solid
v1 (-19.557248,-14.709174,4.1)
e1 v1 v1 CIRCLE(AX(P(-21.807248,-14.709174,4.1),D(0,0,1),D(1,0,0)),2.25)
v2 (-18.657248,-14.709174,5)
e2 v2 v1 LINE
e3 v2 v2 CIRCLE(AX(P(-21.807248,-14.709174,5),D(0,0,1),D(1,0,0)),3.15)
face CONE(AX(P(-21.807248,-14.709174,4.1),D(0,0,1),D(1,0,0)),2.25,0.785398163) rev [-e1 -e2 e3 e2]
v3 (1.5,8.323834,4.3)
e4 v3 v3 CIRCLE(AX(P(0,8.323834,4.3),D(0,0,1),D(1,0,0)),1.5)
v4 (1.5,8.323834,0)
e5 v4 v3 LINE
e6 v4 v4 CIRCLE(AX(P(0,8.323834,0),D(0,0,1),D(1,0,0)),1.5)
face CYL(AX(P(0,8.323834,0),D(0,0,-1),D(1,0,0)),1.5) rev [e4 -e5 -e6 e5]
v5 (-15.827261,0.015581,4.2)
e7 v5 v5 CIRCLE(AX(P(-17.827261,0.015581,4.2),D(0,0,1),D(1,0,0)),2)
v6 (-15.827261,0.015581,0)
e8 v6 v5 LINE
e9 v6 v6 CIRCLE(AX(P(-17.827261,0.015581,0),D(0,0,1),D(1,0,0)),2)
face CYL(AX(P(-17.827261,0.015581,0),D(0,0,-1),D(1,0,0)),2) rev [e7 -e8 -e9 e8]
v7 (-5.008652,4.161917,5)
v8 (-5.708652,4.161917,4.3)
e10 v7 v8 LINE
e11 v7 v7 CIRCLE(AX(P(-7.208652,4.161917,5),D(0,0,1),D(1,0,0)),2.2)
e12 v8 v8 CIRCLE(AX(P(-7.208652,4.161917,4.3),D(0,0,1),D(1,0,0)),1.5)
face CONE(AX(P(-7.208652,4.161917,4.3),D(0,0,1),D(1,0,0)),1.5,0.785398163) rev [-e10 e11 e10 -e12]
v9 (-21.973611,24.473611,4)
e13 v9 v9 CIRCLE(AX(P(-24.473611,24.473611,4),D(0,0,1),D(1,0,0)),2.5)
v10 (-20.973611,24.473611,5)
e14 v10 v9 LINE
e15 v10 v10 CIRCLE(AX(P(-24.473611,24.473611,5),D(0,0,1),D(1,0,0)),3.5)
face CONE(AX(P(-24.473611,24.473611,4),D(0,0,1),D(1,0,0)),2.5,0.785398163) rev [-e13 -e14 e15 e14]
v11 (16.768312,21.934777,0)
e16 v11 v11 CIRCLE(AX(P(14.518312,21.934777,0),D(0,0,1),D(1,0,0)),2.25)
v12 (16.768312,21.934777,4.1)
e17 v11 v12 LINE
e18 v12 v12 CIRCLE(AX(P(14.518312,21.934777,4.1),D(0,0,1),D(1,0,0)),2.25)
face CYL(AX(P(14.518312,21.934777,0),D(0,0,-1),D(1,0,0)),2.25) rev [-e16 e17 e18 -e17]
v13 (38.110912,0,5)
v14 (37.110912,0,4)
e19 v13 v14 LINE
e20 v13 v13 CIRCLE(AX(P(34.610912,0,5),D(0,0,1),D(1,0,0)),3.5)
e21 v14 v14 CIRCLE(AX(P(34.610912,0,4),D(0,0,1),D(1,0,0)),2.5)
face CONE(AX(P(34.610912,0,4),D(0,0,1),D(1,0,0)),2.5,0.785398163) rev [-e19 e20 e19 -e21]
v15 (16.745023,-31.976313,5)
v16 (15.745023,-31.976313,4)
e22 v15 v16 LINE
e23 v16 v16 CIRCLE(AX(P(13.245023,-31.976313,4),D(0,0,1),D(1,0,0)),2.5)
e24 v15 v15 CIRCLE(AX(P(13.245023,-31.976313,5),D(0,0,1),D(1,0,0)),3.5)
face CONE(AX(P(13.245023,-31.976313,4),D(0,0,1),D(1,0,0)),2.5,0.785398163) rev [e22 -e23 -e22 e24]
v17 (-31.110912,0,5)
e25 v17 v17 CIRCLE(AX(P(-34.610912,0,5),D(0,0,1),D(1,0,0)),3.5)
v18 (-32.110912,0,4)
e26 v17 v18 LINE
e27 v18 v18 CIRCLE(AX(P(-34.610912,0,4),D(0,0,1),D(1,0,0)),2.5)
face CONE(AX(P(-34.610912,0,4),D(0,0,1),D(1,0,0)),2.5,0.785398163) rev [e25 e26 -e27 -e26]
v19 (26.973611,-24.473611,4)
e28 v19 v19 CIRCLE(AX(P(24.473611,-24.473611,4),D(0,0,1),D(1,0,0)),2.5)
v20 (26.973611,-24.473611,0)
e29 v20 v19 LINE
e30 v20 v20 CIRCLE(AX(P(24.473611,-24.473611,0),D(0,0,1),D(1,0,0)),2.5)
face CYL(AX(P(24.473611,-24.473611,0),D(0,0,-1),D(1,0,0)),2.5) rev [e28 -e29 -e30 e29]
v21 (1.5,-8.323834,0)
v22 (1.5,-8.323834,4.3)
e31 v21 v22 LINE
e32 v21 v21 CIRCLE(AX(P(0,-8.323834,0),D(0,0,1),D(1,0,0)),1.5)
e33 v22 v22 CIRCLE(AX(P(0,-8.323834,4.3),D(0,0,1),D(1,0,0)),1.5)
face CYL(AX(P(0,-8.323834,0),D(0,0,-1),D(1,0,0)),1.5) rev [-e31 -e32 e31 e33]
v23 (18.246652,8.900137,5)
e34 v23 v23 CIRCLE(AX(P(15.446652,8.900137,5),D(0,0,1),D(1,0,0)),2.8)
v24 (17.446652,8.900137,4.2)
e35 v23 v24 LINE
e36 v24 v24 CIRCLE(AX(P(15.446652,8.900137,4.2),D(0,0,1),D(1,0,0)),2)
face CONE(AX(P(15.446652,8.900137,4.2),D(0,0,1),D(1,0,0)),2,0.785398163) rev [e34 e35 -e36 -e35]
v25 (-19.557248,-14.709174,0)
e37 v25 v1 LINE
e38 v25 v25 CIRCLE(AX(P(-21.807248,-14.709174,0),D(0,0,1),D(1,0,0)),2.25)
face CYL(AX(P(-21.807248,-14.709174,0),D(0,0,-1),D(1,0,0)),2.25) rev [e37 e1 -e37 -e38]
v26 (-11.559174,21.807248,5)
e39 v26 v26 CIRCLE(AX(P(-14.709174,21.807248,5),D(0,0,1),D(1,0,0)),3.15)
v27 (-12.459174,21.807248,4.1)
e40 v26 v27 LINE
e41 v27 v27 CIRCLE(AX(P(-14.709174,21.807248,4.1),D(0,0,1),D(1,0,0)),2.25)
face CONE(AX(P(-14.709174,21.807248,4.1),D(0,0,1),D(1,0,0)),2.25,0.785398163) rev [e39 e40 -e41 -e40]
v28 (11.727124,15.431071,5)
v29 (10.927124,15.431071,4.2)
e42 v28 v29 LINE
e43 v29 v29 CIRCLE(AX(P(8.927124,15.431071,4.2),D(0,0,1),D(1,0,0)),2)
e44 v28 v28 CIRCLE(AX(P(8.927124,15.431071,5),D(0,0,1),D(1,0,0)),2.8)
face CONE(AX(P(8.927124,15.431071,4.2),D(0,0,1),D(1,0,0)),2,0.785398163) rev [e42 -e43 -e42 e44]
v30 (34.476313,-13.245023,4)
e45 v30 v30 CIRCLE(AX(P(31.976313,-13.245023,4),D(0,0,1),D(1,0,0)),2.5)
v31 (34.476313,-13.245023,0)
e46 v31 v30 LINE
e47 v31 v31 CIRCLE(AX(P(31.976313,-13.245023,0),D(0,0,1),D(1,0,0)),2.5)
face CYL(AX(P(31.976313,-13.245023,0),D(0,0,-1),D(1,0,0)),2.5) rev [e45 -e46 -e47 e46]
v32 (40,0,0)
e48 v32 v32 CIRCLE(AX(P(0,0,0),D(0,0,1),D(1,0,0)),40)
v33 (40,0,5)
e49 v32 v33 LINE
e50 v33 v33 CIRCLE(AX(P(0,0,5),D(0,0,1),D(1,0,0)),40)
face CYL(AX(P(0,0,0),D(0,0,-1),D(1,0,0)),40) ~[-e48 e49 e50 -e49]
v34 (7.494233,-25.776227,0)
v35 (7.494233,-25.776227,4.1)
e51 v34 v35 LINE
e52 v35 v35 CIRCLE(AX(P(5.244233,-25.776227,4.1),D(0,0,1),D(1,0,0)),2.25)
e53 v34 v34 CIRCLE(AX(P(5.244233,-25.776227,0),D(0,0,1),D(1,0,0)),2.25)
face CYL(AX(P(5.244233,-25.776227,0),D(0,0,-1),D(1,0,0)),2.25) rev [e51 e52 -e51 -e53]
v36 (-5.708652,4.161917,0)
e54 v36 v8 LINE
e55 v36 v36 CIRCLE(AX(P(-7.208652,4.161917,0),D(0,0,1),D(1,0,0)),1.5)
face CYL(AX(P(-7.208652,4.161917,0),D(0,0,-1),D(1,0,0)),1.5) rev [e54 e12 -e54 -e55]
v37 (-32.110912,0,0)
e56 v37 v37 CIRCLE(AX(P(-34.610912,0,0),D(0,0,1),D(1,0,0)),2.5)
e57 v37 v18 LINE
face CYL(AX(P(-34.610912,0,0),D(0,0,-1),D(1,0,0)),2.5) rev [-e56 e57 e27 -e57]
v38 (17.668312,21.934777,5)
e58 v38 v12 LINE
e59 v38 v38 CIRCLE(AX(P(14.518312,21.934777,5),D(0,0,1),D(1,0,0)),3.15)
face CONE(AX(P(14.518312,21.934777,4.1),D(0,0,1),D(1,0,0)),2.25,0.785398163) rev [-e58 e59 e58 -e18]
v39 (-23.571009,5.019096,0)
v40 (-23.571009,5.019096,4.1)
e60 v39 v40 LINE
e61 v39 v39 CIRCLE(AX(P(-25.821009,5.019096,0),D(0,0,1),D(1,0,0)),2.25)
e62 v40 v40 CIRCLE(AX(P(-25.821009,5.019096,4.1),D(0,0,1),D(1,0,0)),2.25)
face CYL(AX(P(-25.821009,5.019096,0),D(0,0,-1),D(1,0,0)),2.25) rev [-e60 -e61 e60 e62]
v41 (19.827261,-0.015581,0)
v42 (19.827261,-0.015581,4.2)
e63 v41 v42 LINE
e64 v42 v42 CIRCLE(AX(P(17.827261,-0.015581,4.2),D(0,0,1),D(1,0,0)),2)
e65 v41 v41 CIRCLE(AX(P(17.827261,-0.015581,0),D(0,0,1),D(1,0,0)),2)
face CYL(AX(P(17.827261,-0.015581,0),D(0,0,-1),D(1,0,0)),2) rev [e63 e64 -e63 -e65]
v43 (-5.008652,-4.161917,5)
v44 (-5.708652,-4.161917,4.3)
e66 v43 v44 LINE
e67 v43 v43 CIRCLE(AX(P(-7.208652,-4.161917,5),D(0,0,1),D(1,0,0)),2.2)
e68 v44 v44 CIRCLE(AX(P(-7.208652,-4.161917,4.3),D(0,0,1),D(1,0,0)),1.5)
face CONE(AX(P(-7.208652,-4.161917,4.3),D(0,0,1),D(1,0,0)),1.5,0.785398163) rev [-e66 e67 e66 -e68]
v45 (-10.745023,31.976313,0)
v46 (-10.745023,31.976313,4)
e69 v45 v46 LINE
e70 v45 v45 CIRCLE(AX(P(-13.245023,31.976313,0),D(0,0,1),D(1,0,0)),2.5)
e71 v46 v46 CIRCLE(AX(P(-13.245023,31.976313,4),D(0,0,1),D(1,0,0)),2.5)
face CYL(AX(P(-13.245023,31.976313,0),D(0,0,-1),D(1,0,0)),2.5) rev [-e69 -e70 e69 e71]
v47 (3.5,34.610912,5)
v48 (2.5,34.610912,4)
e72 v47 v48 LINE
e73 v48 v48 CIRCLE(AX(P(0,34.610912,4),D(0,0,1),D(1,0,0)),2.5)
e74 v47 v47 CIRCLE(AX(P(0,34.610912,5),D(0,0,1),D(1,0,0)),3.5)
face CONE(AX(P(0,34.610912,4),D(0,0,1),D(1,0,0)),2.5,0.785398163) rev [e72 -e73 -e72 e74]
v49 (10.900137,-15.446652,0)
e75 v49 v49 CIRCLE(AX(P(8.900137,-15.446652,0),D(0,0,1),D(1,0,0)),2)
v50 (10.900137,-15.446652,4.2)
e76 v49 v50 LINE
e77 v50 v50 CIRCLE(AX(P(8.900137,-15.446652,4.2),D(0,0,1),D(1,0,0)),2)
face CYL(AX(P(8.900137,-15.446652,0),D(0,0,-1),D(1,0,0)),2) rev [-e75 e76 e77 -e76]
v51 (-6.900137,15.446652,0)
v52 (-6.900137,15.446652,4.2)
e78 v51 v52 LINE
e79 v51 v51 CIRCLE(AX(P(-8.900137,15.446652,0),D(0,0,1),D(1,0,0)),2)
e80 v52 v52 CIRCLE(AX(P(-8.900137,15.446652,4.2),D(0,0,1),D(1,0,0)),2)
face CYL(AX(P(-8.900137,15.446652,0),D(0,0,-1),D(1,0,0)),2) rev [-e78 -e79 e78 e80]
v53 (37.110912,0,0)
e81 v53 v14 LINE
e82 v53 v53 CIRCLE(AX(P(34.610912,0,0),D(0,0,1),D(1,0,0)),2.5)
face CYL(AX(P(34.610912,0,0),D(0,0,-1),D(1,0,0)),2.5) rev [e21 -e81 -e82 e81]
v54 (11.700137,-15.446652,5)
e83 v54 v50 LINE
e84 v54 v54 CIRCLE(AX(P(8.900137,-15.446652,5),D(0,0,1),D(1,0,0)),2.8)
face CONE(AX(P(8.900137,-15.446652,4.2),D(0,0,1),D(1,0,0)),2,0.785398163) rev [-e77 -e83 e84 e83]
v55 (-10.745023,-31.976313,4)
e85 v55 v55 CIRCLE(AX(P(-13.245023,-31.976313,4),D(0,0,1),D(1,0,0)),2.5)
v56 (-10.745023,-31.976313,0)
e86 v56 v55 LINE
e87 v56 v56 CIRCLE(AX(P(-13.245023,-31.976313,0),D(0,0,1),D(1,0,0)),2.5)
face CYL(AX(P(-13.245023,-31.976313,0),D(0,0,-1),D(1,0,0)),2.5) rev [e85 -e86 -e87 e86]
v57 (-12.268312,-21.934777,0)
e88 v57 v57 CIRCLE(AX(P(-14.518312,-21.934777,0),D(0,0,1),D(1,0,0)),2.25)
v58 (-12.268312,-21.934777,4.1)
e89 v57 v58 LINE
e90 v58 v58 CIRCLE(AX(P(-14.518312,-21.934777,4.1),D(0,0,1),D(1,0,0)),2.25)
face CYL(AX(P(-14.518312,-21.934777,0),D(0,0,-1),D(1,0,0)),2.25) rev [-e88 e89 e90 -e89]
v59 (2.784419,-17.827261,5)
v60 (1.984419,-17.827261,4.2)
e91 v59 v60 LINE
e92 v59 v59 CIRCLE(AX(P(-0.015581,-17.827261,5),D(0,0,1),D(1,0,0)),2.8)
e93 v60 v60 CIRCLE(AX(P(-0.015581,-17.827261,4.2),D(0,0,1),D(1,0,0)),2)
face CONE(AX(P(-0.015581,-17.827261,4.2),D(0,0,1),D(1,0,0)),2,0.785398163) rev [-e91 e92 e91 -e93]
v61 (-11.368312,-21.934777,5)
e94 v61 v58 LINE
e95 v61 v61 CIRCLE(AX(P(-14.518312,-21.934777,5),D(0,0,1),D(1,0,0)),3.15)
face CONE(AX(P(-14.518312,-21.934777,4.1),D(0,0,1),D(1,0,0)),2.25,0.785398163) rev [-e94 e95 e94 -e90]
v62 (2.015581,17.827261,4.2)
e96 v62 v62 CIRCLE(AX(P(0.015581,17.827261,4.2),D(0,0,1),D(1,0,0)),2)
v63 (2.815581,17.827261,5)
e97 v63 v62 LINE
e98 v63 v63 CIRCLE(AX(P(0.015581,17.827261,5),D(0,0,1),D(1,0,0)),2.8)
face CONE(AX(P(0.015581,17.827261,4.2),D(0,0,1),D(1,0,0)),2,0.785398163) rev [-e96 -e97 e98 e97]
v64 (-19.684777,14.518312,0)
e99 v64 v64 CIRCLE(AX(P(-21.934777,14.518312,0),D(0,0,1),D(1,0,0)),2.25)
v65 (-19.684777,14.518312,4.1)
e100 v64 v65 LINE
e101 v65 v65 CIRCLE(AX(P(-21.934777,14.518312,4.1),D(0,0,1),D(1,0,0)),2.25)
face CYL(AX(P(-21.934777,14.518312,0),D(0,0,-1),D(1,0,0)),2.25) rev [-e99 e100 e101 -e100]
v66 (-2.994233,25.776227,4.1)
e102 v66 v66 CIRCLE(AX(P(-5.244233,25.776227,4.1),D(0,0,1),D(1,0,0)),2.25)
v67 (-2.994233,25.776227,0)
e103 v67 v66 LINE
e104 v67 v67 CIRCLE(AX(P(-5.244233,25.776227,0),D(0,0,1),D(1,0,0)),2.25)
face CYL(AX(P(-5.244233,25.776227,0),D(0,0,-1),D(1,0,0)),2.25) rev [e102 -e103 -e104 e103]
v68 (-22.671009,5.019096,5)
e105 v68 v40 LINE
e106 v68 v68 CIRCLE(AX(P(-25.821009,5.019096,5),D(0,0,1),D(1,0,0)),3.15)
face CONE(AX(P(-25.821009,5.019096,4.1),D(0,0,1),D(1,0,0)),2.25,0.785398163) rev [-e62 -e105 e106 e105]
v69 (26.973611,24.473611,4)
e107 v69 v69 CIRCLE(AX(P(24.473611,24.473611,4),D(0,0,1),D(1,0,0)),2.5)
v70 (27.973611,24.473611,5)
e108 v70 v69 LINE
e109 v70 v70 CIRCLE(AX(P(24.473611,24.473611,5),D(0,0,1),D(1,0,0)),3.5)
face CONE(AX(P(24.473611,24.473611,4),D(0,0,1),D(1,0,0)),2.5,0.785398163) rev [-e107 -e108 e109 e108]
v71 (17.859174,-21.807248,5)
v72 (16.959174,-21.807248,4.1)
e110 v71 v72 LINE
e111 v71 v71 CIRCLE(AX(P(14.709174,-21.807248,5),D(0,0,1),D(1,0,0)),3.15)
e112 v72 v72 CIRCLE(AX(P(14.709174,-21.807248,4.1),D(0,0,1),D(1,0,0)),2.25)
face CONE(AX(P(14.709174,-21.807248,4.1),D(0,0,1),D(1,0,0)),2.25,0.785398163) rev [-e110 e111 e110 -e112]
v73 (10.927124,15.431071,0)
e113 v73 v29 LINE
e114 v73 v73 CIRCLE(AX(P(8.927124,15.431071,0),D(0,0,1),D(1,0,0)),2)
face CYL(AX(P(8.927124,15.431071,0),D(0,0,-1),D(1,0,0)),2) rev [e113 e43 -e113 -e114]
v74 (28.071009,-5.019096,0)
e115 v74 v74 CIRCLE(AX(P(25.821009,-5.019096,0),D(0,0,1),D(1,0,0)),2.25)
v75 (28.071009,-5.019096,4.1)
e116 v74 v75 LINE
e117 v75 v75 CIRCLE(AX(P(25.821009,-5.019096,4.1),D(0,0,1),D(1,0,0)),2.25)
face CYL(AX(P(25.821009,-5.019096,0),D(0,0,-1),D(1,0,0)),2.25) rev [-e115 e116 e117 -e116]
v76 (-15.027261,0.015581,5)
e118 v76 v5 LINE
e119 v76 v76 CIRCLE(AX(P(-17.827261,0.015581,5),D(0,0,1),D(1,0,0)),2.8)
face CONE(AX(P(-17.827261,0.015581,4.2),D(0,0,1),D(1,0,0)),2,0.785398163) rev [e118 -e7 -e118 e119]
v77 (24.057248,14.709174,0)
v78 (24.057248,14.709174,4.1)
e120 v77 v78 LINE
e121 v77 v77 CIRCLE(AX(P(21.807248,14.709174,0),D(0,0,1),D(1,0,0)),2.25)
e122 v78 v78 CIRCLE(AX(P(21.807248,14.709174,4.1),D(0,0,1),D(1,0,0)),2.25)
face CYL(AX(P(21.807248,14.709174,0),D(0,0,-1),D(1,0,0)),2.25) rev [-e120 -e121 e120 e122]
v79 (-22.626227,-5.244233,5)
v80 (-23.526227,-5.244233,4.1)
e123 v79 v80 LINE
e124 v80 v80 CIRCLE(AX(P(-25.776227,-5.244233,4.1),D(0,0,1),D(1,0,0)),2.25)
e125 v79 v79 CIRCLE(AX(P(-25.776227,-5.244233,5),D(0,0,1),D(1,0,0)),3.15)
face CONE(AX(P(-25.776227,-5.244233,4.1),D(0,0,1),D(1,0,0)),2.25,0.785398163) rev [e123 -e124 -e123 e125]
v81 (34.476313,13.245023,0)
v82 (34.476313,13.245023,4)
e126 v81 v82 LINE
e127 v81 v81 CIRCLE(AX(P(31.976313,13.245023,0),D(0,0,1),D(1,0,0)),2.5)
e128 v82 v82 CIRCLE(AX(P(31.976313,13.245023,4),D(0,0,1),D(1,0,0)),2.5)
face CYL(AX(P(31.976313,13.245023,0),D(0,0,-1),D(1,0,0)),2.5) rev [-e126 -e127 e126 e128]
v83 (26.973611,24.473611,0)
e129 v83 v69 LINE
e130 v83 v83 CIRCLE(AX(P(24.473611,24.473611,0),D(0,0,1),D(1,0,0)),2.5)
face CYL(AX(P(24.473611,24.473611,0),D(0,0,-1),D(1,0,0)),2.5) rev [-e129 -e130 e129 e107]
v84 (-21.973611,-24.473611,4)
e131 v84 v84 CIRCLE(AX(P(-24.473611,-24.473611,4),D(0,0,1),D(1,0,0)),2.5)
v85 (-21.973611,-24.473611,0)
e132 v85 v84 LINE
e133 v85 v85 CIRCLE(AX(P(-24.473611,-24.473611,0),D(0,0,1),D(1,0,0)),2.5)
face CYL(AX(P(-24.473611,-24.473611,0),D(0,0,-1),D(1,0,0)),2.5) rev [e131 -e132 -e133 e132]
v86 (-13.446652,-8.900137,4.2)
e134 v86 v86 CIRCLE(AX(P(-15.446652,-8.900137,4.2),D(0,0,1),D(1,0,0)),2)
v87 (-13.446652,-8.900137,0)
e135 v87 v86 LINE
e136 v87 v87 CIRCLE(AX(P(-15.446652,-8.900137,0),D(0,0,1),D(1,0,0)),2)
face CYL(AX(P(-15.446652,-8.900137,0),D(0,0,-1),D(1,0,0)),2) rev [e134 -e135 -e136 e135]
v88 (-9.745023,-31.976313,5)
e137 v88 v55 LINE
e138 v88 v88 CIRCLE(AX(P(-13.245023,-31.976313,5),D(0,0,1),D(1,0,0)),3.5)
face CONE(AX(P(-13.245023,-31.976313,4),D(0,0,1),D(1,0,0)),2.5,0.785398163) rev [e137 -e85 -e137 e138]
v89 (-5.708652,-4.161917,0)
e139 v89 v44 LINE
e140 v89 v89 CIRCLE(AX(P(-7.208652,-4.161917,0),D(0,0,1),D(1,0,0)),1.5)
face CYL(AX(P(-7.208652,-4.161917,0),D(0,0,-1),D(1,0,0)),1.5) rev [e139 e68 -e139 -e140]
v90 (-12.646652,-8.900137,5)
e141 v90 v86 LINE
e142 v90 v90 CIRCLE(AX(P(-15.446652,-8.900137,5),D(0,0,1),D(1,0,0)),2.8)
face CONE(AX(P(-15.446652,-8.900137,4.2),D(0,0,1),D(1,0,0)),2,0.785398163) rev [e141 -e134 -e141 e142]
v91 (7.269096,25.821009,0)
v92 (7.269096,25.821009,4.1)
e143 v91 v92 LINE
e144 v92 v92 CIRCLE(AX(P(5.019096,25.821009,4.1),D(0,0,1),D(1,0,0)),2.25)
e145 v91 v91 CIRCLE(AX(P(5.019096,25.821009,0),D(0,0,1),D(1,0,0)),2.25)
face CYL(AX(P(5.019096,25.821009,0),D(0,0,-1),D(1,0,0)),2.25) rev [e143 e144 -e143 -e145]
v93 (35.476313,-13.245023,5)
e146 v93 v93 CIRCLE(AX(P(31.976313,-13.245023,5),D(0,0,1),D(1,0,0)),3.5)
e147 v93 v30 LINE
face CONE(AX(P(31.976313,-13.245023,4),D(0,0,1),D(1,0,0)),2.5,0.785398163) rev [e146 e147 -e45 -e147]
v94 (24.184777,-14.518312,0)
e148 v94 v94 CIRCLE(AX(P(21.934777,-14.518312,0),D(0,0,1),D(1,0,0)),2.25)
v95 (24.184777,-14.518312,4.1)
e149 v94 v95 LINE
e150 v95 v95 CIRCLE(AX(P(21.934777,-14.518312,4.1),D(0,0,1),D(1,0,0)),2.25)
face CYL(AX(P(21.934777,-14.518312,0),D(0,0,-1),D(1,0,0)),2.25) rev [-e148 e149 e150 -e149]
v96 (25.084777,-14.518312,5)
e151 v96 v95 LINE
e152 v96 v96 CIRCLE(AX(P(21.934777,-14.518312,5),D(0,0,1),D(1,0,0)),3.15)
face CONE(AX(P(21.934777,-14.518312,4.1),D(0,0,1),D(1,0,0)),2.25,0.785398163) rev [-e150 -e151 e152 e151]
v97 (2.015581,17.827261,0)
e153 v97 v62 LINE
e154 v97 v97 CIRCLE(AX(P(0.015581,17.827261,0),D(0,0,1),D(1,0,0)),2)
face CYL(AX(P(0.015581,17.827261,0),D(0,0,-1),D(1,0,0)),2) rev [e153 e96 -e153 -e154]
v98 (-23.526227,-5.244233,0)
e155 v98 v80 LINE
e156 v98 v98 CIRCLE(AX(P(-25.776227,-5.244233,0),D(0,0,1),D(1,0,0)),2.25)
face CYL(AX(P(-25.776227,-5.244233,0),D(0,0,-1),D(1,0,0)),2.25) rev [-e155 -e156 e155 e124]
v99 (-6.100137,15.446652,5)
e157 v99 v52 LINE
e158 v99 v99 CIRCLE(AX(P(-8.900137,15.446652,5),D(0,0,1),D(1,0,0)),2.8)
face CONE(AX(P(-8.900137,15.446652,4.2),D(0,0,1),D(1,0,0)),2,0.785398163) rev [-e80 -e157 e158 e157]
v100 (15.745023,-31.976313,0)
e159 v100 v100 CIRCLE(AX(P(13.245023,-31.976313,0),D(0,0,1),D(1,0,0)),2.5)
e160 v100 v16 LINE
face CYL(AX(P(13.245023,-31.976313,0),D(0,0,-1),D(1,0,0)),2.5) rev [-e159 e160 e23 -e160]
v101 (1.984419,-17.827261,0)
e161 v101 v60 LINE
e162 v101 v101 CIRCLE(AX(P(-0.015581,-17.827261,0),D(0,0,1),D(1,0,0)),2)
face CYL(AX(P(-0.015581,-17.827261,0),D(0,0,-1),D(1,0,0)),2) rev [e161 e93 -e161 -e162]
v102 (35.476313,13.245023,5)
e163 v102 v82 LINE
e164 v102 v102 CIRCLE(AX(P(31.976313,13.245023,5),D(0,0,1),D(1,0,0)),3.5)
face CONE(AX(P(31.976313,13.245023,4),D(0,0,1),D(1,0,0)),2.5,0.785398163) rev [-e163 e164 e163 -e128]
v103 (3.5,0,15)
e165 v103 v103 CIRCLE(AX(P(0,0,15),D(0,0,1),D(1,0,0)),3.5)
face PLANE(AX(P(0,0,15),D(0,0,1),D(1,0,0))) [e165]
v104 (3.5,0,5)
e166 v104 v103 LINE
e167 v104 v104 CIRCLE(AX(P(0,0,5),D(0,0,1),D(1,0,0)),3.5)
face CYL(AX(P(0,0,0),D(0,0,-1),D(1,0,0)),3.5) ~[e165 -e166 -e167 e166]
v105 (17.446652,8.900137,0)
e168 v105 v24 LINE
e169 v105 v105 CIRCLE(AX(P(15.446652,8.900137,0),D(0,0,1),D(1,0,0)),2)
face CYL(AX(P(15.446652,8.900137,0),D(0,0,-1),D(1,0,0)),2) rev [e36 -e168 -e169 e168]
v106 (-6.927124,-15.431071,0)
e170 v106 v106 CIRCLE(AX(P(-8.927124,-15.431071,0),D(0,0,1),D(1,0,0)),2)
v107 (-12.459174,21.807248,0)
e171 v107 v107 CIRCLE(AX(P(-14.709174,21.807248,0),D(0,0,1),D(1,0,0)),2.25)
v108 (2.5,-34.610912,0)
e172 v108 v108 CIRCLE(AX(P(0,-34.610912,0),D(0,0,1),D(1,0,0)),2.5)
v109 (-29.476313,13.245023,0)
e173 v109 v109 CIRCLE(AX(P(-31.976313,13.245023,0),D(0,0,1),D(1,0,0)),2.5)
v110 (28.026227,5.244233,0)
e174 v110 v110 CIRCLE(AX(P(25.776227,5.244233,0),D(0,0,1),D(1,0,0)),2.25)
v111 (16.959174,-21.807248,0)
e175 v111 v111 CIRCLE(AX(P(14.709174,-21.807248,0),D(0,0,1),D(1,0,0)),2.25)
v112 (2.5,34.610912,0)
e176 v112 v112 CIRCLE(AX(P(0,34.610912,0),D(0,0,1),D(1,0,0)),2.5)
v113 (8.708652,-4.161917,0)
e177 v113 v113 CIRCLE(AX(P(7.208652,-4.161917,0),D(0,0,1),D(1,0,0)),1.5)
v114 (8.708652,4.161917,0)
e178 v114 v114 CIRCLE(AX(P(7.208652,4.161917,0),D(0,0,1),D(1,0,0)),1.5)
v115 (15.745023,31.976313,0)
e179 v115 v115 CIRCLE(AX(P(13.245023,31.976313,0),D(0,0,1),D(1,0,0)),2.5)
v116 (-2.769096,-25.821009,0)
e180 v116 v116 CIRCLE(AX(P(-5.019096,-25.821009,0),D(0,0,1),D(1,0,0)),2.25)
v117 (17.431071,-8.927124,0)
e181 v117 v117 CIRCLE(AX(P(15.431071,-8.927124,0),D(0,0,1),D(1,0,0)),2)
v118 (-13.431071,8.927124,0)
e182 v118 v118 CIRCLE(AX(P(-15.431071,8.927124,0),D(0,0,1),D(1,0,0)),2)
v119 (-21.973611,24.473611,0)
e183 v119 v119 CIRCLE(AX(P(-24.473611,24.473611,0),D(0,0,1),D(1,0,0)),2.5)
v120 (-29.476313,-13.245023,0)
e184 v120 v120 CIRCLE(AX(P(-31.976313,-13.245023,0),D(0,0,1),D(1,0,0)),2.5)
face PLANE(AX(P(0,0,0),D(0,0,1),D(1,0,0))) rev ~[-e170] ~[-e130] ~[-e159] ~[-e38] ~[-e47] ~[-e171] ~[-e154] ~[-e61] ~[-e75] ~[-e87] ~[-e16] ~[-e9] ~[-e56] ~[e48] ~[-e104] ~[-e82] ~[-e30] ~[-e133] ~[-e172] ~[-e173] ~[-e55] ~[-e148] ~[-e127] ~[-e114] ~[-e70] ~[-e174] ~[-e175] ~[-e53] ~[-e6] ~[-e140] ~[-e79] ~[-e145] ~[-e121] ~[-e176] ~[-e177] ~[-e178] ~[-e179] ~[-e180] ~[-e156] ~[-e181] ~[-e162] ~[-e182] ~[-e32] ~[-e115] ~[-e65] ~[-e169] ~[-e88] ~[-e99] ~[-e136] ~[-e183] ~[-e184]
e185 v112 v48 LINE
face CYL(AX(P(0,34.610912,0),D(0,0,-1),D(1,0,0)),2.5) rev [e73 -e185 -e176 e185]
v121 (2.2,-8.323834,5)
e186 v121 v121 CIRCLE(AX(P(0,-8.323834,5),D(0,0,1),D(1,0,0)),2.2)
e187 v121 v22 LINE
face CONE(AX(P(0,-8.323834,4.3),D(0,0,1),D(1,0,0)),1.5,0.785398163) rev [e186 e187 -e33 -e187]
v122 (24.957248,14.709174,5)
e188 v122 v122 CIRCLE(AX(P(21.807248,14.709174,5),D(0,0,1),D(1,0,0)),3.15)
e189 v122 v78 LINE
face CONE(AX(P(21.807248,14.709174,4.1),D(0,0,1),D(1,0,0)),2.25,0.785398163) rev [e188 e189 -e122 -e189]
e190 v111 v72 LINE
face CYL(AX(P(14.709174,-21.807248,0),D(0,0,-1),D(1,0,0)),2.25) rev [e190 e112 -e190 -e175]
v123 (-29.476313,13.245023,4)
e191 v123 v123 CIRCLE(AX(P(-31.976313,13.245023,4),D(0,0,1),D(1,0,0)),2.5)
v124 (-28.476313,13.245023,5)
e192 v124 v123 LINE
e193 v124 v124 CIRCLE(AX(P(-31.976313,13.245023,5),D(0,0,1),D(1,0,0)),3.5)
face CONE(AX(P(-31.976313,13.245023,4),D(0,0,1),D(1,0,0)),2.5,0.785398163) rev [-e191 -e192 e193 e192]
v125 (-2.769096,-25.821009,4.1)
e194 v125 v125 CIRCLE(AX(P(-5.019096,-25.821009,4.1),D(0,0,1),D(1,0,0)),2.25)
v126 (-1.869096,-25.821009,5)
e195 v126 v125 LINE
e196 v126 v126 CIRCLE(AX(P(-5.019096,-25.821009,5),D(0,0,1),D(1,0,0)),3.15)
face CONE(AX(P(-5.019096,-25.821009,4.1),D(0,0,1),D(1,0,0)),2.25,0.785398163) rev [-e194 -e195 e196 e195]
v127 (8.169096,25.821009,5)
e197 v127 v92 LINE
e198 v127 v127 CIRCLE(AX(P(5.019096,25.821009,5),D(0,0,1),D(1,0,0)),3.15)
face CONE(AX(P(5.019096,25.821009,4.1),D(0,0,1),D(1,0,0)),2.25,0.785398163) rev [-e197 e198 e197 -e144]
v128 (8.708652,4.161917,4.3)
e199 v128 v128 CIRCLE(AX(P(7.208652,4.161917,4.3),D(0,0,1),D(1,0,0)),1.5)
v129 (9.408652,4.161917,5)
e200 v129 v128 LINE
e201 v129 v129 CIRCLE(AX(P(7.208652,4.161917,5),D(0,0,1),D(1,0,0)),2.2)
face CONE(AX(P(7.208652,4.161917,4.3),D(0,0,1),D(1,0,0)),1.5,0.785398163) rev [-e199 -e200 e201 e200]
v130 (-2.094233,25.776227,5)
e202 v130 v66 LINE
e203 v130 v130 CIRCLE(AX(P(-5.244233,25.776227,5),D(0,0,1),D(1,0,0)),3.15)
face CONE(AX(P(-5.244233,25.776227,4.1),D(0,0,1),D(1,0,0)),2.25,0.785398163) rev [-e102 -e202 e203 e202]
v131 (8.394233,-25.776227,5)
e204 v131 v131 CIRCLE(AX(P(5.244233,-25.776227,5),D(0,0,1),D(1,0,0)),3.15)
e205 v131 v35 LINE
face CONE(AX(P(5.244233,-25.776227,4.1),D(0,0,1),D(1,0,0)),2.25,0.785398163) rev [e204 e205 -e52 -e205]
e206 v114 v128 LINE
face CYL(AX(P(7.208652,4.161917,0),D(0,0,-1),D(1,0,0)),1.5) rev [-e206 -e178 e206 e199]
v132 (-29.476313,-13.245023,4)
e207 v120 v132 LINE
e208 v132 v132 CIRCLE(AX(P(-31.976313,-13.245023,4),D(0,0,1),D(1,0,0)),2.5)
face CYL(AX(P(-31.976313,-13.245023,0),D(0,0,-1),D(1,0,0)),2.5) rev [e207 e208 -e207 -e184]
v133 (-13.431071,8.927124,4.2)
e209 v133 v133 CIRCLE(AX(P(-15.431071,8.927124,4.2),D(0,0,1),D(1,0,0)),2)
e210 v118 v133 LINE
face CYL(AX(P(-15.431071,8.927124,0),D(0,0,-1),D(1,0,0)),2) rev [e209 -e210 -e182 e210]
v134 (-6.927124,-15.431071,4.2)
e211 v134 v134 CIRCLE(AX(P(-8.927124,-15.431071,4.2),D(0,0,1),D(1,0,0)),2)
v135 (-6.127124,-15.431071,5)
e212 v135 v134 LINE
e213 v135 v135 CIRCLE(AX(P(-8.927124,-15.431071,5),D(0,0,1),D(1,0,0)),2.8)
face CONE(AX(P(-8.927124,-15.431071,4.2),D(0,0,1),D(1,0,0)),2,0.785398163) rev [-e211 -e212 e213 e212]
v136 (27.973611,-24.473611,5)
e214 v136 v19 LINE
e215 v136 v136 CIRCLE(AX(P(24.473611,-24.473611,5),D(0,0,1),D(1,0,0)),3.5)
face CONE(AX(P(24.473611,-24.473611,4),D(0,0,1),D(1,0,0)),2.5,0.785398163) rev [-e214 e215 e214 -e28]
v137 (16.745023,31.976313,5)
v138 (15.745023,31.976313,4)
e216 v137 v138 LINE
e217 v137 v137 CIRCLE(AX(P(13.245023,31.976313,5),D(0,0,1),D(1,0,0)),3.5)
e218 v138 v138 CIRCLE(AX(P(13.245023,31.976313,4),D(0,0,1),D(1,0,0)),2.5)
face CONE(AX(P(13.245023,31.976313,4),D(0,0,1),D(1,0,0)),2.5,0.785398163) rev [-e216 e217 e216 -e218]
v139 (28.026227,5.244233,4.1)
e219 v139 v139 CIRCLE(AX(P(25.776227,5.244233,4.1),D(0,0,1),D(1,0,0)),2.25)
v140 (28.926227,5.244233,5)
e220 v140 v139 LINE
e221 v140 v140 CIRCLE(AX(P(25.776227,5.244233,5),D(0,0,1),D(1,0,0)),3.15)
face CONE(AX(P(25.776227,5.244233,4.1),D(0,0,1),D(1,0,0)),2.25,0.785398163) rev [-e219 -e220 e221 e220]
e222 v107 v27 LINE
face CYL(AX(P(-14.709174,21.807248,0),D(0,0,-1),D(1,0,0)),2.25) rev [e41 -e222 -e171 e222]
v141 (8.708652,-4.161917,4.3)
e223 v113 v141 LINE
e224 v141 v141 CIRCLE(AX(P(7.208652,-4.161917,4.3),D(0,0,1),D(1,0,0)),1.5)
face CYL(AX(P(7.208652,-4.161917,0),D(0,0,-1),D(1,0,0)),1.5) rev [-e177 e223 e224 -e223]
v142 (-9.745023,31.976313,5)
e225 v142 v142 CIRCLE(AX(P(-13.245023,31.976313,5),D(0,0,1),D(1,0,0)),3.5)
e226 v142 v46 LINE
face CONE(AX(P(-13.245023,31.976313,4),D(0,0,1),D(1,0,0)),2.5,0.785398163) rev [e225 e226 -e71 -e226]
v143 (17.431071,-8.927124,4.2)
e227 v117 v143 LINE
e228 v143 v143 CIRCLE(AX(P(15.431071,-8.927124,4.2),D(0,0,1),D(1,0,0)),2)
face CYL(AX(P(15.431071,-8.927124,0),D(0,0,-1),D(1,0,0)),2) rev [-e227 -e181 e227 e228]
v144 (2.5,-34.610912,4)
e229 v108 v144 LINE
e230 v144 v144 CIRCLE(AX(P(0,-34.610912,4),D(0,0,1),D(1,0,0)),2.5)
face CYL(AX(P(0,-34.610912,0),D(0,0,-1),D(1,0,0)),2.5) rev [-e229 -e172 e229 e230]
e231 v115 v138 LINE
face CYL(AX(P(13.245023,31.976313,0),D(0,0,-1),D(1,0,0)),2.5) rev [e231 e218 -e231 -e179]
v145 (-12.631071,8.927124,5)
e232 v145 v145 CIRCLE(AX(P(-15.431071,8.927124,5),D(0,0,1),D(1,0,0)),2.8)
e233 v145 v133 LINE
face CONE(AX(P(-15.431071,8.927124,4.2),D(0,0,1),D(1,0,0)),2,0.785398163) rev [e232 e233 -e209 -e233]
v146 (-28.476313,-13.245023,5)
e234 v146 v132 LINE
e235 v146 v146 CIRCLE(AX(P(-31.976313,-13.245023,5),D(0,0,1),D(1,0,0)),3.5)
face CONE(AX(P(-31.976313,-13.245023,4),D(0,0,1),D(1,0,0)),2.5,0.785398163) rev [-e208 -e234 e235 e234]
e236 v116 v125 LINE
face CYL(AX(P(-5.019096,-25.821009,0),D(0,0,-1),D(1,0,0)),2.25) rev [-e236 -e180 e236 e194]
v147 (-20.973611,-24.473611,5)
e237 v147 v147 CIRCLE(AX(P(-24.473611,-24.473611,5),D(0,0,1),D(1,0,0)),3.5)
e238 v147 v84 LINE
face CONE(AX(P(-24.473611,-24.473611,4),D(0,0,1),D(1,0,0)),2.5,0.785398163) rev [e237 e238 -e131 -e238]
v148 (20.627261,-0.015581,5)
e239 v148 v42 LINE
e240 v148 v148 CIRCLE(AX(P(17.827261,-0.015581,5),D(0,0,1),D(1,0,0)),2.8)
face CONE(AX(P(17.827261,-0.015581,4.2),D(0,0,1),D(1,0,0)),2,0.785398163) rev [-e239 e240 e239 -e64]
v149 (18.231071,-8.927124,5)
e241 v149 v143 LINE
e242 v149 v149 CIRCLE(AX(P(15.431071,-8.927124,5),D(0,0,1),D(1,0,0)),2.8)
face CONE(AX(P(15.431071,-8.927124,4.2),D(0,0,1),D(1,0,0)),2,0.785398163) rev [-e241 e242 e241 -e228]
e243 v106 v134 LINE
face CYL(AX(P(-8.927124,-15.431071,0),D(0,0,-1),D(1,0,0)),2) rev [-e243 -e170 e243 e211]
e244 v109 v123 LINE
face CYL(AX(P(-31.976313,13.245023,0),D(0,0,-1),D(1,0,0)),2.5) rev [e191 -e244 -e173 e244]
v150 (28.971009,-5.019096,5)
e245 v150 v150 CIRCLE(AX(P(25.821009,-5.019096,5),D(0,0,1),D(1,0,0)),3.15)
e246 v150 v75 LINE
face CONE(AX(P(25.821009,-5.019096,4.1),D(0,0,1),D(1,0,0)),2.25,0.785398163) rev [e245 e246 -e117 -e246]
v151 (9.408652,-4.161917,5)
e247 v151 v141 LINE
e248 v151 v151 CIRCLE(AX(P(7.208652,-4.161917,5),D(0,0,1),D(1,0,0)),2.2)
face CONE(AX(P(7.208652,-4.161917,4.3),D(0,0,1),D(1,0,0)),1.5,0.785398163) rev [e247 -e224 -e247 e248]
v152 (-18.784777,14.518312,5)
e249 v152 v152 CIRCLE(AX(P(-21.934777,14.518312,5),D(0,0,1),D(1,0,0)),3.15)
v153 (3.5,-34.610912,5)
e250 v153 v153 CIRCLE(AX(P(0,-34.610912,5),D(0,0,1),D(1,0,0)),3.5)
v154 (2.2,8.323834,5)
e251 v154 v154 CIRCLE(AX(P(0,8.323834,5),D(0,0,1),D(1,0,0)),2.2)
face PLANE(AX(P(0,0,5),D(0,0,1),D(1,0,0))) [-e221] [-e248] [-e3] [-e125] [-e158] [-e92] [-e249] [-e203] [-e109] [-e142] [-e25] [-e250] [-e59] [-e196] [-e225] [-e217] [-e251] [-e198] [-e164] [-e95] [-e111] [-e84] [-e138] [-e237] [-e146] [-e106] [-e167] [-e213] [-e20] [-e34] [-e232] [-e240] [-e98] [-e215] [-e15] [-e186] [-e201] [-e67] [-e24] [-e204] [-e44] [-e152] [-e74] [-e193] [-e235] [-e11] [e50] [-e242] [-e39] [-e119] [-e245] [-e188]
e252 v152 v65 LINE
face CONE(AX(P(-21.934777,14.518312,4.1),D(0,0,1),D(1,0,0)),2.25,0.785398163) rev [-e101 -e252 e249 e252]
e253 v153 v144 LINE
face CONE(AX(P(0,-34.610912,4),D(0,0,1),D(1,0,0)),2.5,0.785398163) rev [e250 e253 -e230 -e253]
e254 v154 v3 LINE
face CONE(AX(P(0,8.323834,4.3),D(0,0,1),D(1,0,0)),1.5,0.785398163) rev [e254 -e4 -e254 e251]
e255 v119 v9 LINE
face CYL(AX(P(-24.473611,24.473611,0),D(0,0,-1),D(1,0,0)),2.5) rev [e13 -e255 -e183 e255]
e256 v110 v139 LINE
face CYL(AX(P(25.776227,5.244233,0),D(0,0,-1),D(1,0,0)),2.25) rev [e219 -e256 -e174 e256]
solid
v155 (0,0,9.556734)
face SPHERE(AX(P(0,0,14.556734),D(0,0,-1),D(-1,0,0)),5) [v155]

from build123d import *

# Parameters (mm, degrees)
F0_R     = 40
F0_R_2   = 2.5
F0_R_3   = 2.25
F0_R_4   = 2
F0_R_5   = 1.5
F0_R_6   = 3.5
F1_DEPTH = 5
F2_DEPTH = 15
F3_SIZE  = 1
F4_SIZE  = 0.9
F5_SIZE  = 0.8
F6_SIZE  = 0.7


with BuildPart() as f1:
    # F0 (on Top) → F1 (new body)
    with BuildSketch(Plane.XY):
        Circle(F0_R)
        with Locations((-24.473611, -24.473611)):
            Circle(F0_R_2, mode=Mode.SUBTRACT)
        with Locations((-13.245023, -31.976313)):
            Circle(F0_R_2, mode=Mode.SUBTRACT)
        with Locations((-14.518312, -21.934777)):
            Circle(F0_R_3, mode=Mode.SUBTRACT)
        with Locations((-5.019096, -25.821009)):
            Circle(F0_R_3, mode=Mode.SUBTRACT)
        with Locations((-31.976313, -13.245023)):
            Circle(F0_R_2, mode=Mode.SUBTRACT)
        with Locations((-21.807248, -14.709174)):
            Circle(F0_R_3, mode=Mode.SUBTRACT)
        with Locations((-25.776227, -5.244233)):
            Circle(F0_R_3, mode=Mode.SUBTRACT)
        with Locations((-8.927124, -15.431071)):
            Circle(F0_R_4, mode=Mode.SUBTRACT)
        with Locations((-0.015581, -17.827261)):
            Circle(F0_R_4, mode=Mode.SUBTRACT)
        with Locations((-15.446652, -8.900137)):
            Circle(F0_R_4, mode=Mode.SUBTRACT)
        with Locations((-7.208652, -4.161917)):
            Circle(F0_R_5, mode=Mode.SUBTRACT)
        with Locations((0, -34.610912)):
            Circle(F0_R_2, mode=Mode.SUBTRACT)
        with Locations((13.245023, -31.976313)):
            Circle(F0_R_2, mode=Mode.SUBTRACT)
        with Locations((5.244233, -25.776227)):
            Circle(F0_R_3, mode=Mode.SUBTRACT)
        with Locations((14.709174, -21.807248)):
            Circle(F0_R_3, mode=Mode.SUBTRACT)
        with Locations((24.473611, -24.473611)):
            Circle(F0_R_2, mode=Mode.SUBTRACT)
        with Locations((8.900137, -15.446652)):
            Circle(F0_R_4, mode=Mode.SUBTRACT)
        with Locations((0, -8.323834)):
            Circle(F0_R_5, mode=Mode.SUBTRACT)
        with Locations((7.208652, -4.161917)):
            Circle(F0_R_5, mode=Mode.SUBTRACT)
        with Locations((15.431071, -8.927124)):
            Circle(F0_R_4, mode=Mode.SUBTRACT)
        with Locations((17.827261, -0.015581)):
            Circle(F0_R_4, mode=Mode.SUBTRACT)
        with Locations((21.934777, -14.518312)):
            Circle(F0_R_3, mode=Mode.SUBTRACT)
        with Locations((31.976313, -13.245023)):
            Circle(F0_R_2, mode=Mode.SUBTRACT)
        with Locations((25.821009, -5.019096)):
            Circle(F0_R_3, mode=Mode.SUBTRACT)
        with Locations((-34.610912, 0)):
            Circle(F0_R_2, mode=Mode.SUBTRACT)
        with Locations((-25.821009, 5.019096)):
            Circle(F0_R_3, mode=Mode.SUBTRACT)
        with Locations((-31.976313, 13.245023)):
            Circle(F0_R_2, mode=Mode.SUBTRACT)
        with Locations((-21.934777, 14.518312)):
            Circle(F0_R_3, mode=Mode.SUBTRACT)
        with Locations((-17.827261, 0.015581)):
            Circle(F0_R_4, mode=Mode.SUBTRACT)
        with Locations((-15.431071, 8.927124)):
            Circle(F0_R_4, mode=Mode.SUBTRACT)
        with Locations((-7.208652, 4.161917)):
            Circle(F0_R_5, mode=Mode.SUBTRACT)
        with Locations((-8.900137, 15.446652)):
            Circle(F0_R_4, mode=Mode.SUBTRACT)
        with Locations((-24.473611, 24.473611)):
            Circle(F0_R_2, mode=Mode.SUBTRACT)
        with Locations((-14.709174, 21.807248)):
            Circle(F0_R_3, mode=Mode.SUBTRACT)
        with Locations((-5.244233, 25.776227)):
            Circle(F0_R_3, mode=Mode.SUBTRACT)
        with Locations((-13.245023, 31.976313)):
            Circle(F0_R_2, mode=Mode.SUBTRACT)
        Circle(F0_R_6, mode=Mode.SUBTRACT)
        with Locations((7.208652, 4.161917)):
            Circle(F0_R_5, mode=Mode.SUBTRACT)
        with Locations((0, 8.323834)):
            Circle(F0_R_5, mode=Mode.SUBTRACT)
        with Locations((15.446652, 8.900137)):
            Circle(F0_R_4, mode=Mode.SUBTRACT)
        with Locations((0.015581, 17.827261)):
            Circle(F0_R_4, mode=Mode.SUBTRACT)
        with Locations((8.927124, 15.431071)):
            Circle(F0_R_4, mode=Mode.SUBTRACT)
        with Locations((25.776227, 5.244233)):
            Circle(F0_R_3, mode=Mode.SUBTRACT)
        with Locations((34.610912, 0)):
            Circle(F0_R_2, mode=Mode.SUBTRACT)
        with Locations((21.807248, 14.709174)):
            Circle(F0_R_3, mode=Mode.SUBTRACT)
        with Locations((31.976313, 13.245023)):
            Circle(F0_R_2, mode=Mode.SUBTRACT)
        with Locations((5.019096, 25.821009)):
            Circle(F0_R_3, mode=Mode.SUBTRACT)
        with Locations((14.518312, 21.934777)):
            Circle(F0_R_3, mode=Mode.SUBTRACT)
        with Locations((0, 34.610912)):
            Circle(F0_R_2, mode=Mode.SUBTRACT)
        with Locations((13.245023, 31.976313)):
            Circle(F0_R_2, mode=Mode.SUBTRACT)
        with Locations((24.473611, 24.473611)):
            Circle(F0_R_2, mode=Mode.SUBTRACT)
    extrude(amount=F1_DEPTH)

    # F0 (on Top) → F2 (join)
    with BuildSketch(Plane.XY):
        Circle(F0_R_6)
    extrude(amount=F2_DEPTH)

    # F3
    f3_edges = [f1.edges().sort_by_distance(p)[0] for p in [
        (-37.110912, 0, 5),
        (-34.476313, 13.245023, 5),
        (-26.973611, 24.473611, 5),
        (-15.745023, 31.976313, 5),
        (-2.5, 34.610912, 5),
        (10.745023, 31.976313, 5),
        (21.973611, 24.473611, 5),
        (29.476313, 13.245023, 5),
        (32.110912, 0, 5),
        (29.476313, -13.245023, 5),
        (21.973611, -24.473611, 5),
        (10.745023, -31.976313, 5),
        (-2.5, -34.610912, 5),
        (-15.745023, -31.976313, 5),
        (-26.973611, -24.473611, 5),
        (-34.476313, -13.245023, 5),
    ]]
    chamfer(f3_edges, length=F3_SIZE)

    # F4
    f4_edges = [f1.edges().sort_by_distance(p)[0] for p in [
        (-24.184777, 14.518312, 5),
        (-16.959174, 21.807248, 5),
        (2.769096, 25.821009, 5),
        (12.268312, 21.934777, 5),
        (19.557248, 14.709174, 5),
        (23.526227, 5.244233, 5),
        (23.571009, -5.019096, 5),
        (19.684777, -14.518312, 5),
        (12.459174, -21.807248, 5),
        (2.994233, -25.776227, 5),
        (-7.269096, -25.821009, 5),
        (-16.768312, -21.934777, 5),
        (-24.057248, -14.709174, 5),
        (-28.026227, -5.244233, 5),
        (-28.071009, 5.019096, 5),
        (-7.494233, 25.776227, 5),
    ]]
    chamfer(f4_edges, length=F4_SIZE)

    # F5
    f5_edges = [f1.edges().sort_by_distance(p)[0] for p in [
        (-17.431071, 8.927124, 5),
        (-10.900137, 15.446652, 5),
        (-1.984419, 17.827261, 5),
        (6.927124, 15.431071, 5),
        (13.446652, 8.900137, 5),
        (15.827261, -0.015581, 5),
        (13.431071, -8.927124, 5),
        (6.900137, -15.446652, 5),
        (-2.015581, -17.827261, 5),
        (-10.927124, -15.431071, 5),
        (-17.446652, -8.900137, 5),
        (-19.827261, 0.015581, 5),
    ]]
    chamfer(f5_edges, length=F5_SIZE)

    # F6
    f6_edges = [f1.edges().sort_by_distance(p)[0] for p in [
        (-1.5, 8.323834, 5),
        (5.708652, 4.161917, 5),
        (5.708652, -4.161917, 5),
        (-1.5, -8.323834, 5),
        (-8.708652, -4.161917, 5),
        (-8.708652, 4.161917, 5),
    ]]
    chamfer(f6_edges, length=F6_SIZE)


with BuildPart() as f8:
    # F7 (on Front) → F8 (revolve)
    with BuildSketch(Plane.XZ):
        with BuildLine():
            Line((0, 9.556734), (0, 19.556734))
            ThreePointArc((0, 19.556734), (-5, 14.556734), (0, 9.556734))
        make_face()
    revolve(axis=Axis((0, 0, 14.556734), (0, 0, -1)))


solid = Compound([f1.part, f8.part])
